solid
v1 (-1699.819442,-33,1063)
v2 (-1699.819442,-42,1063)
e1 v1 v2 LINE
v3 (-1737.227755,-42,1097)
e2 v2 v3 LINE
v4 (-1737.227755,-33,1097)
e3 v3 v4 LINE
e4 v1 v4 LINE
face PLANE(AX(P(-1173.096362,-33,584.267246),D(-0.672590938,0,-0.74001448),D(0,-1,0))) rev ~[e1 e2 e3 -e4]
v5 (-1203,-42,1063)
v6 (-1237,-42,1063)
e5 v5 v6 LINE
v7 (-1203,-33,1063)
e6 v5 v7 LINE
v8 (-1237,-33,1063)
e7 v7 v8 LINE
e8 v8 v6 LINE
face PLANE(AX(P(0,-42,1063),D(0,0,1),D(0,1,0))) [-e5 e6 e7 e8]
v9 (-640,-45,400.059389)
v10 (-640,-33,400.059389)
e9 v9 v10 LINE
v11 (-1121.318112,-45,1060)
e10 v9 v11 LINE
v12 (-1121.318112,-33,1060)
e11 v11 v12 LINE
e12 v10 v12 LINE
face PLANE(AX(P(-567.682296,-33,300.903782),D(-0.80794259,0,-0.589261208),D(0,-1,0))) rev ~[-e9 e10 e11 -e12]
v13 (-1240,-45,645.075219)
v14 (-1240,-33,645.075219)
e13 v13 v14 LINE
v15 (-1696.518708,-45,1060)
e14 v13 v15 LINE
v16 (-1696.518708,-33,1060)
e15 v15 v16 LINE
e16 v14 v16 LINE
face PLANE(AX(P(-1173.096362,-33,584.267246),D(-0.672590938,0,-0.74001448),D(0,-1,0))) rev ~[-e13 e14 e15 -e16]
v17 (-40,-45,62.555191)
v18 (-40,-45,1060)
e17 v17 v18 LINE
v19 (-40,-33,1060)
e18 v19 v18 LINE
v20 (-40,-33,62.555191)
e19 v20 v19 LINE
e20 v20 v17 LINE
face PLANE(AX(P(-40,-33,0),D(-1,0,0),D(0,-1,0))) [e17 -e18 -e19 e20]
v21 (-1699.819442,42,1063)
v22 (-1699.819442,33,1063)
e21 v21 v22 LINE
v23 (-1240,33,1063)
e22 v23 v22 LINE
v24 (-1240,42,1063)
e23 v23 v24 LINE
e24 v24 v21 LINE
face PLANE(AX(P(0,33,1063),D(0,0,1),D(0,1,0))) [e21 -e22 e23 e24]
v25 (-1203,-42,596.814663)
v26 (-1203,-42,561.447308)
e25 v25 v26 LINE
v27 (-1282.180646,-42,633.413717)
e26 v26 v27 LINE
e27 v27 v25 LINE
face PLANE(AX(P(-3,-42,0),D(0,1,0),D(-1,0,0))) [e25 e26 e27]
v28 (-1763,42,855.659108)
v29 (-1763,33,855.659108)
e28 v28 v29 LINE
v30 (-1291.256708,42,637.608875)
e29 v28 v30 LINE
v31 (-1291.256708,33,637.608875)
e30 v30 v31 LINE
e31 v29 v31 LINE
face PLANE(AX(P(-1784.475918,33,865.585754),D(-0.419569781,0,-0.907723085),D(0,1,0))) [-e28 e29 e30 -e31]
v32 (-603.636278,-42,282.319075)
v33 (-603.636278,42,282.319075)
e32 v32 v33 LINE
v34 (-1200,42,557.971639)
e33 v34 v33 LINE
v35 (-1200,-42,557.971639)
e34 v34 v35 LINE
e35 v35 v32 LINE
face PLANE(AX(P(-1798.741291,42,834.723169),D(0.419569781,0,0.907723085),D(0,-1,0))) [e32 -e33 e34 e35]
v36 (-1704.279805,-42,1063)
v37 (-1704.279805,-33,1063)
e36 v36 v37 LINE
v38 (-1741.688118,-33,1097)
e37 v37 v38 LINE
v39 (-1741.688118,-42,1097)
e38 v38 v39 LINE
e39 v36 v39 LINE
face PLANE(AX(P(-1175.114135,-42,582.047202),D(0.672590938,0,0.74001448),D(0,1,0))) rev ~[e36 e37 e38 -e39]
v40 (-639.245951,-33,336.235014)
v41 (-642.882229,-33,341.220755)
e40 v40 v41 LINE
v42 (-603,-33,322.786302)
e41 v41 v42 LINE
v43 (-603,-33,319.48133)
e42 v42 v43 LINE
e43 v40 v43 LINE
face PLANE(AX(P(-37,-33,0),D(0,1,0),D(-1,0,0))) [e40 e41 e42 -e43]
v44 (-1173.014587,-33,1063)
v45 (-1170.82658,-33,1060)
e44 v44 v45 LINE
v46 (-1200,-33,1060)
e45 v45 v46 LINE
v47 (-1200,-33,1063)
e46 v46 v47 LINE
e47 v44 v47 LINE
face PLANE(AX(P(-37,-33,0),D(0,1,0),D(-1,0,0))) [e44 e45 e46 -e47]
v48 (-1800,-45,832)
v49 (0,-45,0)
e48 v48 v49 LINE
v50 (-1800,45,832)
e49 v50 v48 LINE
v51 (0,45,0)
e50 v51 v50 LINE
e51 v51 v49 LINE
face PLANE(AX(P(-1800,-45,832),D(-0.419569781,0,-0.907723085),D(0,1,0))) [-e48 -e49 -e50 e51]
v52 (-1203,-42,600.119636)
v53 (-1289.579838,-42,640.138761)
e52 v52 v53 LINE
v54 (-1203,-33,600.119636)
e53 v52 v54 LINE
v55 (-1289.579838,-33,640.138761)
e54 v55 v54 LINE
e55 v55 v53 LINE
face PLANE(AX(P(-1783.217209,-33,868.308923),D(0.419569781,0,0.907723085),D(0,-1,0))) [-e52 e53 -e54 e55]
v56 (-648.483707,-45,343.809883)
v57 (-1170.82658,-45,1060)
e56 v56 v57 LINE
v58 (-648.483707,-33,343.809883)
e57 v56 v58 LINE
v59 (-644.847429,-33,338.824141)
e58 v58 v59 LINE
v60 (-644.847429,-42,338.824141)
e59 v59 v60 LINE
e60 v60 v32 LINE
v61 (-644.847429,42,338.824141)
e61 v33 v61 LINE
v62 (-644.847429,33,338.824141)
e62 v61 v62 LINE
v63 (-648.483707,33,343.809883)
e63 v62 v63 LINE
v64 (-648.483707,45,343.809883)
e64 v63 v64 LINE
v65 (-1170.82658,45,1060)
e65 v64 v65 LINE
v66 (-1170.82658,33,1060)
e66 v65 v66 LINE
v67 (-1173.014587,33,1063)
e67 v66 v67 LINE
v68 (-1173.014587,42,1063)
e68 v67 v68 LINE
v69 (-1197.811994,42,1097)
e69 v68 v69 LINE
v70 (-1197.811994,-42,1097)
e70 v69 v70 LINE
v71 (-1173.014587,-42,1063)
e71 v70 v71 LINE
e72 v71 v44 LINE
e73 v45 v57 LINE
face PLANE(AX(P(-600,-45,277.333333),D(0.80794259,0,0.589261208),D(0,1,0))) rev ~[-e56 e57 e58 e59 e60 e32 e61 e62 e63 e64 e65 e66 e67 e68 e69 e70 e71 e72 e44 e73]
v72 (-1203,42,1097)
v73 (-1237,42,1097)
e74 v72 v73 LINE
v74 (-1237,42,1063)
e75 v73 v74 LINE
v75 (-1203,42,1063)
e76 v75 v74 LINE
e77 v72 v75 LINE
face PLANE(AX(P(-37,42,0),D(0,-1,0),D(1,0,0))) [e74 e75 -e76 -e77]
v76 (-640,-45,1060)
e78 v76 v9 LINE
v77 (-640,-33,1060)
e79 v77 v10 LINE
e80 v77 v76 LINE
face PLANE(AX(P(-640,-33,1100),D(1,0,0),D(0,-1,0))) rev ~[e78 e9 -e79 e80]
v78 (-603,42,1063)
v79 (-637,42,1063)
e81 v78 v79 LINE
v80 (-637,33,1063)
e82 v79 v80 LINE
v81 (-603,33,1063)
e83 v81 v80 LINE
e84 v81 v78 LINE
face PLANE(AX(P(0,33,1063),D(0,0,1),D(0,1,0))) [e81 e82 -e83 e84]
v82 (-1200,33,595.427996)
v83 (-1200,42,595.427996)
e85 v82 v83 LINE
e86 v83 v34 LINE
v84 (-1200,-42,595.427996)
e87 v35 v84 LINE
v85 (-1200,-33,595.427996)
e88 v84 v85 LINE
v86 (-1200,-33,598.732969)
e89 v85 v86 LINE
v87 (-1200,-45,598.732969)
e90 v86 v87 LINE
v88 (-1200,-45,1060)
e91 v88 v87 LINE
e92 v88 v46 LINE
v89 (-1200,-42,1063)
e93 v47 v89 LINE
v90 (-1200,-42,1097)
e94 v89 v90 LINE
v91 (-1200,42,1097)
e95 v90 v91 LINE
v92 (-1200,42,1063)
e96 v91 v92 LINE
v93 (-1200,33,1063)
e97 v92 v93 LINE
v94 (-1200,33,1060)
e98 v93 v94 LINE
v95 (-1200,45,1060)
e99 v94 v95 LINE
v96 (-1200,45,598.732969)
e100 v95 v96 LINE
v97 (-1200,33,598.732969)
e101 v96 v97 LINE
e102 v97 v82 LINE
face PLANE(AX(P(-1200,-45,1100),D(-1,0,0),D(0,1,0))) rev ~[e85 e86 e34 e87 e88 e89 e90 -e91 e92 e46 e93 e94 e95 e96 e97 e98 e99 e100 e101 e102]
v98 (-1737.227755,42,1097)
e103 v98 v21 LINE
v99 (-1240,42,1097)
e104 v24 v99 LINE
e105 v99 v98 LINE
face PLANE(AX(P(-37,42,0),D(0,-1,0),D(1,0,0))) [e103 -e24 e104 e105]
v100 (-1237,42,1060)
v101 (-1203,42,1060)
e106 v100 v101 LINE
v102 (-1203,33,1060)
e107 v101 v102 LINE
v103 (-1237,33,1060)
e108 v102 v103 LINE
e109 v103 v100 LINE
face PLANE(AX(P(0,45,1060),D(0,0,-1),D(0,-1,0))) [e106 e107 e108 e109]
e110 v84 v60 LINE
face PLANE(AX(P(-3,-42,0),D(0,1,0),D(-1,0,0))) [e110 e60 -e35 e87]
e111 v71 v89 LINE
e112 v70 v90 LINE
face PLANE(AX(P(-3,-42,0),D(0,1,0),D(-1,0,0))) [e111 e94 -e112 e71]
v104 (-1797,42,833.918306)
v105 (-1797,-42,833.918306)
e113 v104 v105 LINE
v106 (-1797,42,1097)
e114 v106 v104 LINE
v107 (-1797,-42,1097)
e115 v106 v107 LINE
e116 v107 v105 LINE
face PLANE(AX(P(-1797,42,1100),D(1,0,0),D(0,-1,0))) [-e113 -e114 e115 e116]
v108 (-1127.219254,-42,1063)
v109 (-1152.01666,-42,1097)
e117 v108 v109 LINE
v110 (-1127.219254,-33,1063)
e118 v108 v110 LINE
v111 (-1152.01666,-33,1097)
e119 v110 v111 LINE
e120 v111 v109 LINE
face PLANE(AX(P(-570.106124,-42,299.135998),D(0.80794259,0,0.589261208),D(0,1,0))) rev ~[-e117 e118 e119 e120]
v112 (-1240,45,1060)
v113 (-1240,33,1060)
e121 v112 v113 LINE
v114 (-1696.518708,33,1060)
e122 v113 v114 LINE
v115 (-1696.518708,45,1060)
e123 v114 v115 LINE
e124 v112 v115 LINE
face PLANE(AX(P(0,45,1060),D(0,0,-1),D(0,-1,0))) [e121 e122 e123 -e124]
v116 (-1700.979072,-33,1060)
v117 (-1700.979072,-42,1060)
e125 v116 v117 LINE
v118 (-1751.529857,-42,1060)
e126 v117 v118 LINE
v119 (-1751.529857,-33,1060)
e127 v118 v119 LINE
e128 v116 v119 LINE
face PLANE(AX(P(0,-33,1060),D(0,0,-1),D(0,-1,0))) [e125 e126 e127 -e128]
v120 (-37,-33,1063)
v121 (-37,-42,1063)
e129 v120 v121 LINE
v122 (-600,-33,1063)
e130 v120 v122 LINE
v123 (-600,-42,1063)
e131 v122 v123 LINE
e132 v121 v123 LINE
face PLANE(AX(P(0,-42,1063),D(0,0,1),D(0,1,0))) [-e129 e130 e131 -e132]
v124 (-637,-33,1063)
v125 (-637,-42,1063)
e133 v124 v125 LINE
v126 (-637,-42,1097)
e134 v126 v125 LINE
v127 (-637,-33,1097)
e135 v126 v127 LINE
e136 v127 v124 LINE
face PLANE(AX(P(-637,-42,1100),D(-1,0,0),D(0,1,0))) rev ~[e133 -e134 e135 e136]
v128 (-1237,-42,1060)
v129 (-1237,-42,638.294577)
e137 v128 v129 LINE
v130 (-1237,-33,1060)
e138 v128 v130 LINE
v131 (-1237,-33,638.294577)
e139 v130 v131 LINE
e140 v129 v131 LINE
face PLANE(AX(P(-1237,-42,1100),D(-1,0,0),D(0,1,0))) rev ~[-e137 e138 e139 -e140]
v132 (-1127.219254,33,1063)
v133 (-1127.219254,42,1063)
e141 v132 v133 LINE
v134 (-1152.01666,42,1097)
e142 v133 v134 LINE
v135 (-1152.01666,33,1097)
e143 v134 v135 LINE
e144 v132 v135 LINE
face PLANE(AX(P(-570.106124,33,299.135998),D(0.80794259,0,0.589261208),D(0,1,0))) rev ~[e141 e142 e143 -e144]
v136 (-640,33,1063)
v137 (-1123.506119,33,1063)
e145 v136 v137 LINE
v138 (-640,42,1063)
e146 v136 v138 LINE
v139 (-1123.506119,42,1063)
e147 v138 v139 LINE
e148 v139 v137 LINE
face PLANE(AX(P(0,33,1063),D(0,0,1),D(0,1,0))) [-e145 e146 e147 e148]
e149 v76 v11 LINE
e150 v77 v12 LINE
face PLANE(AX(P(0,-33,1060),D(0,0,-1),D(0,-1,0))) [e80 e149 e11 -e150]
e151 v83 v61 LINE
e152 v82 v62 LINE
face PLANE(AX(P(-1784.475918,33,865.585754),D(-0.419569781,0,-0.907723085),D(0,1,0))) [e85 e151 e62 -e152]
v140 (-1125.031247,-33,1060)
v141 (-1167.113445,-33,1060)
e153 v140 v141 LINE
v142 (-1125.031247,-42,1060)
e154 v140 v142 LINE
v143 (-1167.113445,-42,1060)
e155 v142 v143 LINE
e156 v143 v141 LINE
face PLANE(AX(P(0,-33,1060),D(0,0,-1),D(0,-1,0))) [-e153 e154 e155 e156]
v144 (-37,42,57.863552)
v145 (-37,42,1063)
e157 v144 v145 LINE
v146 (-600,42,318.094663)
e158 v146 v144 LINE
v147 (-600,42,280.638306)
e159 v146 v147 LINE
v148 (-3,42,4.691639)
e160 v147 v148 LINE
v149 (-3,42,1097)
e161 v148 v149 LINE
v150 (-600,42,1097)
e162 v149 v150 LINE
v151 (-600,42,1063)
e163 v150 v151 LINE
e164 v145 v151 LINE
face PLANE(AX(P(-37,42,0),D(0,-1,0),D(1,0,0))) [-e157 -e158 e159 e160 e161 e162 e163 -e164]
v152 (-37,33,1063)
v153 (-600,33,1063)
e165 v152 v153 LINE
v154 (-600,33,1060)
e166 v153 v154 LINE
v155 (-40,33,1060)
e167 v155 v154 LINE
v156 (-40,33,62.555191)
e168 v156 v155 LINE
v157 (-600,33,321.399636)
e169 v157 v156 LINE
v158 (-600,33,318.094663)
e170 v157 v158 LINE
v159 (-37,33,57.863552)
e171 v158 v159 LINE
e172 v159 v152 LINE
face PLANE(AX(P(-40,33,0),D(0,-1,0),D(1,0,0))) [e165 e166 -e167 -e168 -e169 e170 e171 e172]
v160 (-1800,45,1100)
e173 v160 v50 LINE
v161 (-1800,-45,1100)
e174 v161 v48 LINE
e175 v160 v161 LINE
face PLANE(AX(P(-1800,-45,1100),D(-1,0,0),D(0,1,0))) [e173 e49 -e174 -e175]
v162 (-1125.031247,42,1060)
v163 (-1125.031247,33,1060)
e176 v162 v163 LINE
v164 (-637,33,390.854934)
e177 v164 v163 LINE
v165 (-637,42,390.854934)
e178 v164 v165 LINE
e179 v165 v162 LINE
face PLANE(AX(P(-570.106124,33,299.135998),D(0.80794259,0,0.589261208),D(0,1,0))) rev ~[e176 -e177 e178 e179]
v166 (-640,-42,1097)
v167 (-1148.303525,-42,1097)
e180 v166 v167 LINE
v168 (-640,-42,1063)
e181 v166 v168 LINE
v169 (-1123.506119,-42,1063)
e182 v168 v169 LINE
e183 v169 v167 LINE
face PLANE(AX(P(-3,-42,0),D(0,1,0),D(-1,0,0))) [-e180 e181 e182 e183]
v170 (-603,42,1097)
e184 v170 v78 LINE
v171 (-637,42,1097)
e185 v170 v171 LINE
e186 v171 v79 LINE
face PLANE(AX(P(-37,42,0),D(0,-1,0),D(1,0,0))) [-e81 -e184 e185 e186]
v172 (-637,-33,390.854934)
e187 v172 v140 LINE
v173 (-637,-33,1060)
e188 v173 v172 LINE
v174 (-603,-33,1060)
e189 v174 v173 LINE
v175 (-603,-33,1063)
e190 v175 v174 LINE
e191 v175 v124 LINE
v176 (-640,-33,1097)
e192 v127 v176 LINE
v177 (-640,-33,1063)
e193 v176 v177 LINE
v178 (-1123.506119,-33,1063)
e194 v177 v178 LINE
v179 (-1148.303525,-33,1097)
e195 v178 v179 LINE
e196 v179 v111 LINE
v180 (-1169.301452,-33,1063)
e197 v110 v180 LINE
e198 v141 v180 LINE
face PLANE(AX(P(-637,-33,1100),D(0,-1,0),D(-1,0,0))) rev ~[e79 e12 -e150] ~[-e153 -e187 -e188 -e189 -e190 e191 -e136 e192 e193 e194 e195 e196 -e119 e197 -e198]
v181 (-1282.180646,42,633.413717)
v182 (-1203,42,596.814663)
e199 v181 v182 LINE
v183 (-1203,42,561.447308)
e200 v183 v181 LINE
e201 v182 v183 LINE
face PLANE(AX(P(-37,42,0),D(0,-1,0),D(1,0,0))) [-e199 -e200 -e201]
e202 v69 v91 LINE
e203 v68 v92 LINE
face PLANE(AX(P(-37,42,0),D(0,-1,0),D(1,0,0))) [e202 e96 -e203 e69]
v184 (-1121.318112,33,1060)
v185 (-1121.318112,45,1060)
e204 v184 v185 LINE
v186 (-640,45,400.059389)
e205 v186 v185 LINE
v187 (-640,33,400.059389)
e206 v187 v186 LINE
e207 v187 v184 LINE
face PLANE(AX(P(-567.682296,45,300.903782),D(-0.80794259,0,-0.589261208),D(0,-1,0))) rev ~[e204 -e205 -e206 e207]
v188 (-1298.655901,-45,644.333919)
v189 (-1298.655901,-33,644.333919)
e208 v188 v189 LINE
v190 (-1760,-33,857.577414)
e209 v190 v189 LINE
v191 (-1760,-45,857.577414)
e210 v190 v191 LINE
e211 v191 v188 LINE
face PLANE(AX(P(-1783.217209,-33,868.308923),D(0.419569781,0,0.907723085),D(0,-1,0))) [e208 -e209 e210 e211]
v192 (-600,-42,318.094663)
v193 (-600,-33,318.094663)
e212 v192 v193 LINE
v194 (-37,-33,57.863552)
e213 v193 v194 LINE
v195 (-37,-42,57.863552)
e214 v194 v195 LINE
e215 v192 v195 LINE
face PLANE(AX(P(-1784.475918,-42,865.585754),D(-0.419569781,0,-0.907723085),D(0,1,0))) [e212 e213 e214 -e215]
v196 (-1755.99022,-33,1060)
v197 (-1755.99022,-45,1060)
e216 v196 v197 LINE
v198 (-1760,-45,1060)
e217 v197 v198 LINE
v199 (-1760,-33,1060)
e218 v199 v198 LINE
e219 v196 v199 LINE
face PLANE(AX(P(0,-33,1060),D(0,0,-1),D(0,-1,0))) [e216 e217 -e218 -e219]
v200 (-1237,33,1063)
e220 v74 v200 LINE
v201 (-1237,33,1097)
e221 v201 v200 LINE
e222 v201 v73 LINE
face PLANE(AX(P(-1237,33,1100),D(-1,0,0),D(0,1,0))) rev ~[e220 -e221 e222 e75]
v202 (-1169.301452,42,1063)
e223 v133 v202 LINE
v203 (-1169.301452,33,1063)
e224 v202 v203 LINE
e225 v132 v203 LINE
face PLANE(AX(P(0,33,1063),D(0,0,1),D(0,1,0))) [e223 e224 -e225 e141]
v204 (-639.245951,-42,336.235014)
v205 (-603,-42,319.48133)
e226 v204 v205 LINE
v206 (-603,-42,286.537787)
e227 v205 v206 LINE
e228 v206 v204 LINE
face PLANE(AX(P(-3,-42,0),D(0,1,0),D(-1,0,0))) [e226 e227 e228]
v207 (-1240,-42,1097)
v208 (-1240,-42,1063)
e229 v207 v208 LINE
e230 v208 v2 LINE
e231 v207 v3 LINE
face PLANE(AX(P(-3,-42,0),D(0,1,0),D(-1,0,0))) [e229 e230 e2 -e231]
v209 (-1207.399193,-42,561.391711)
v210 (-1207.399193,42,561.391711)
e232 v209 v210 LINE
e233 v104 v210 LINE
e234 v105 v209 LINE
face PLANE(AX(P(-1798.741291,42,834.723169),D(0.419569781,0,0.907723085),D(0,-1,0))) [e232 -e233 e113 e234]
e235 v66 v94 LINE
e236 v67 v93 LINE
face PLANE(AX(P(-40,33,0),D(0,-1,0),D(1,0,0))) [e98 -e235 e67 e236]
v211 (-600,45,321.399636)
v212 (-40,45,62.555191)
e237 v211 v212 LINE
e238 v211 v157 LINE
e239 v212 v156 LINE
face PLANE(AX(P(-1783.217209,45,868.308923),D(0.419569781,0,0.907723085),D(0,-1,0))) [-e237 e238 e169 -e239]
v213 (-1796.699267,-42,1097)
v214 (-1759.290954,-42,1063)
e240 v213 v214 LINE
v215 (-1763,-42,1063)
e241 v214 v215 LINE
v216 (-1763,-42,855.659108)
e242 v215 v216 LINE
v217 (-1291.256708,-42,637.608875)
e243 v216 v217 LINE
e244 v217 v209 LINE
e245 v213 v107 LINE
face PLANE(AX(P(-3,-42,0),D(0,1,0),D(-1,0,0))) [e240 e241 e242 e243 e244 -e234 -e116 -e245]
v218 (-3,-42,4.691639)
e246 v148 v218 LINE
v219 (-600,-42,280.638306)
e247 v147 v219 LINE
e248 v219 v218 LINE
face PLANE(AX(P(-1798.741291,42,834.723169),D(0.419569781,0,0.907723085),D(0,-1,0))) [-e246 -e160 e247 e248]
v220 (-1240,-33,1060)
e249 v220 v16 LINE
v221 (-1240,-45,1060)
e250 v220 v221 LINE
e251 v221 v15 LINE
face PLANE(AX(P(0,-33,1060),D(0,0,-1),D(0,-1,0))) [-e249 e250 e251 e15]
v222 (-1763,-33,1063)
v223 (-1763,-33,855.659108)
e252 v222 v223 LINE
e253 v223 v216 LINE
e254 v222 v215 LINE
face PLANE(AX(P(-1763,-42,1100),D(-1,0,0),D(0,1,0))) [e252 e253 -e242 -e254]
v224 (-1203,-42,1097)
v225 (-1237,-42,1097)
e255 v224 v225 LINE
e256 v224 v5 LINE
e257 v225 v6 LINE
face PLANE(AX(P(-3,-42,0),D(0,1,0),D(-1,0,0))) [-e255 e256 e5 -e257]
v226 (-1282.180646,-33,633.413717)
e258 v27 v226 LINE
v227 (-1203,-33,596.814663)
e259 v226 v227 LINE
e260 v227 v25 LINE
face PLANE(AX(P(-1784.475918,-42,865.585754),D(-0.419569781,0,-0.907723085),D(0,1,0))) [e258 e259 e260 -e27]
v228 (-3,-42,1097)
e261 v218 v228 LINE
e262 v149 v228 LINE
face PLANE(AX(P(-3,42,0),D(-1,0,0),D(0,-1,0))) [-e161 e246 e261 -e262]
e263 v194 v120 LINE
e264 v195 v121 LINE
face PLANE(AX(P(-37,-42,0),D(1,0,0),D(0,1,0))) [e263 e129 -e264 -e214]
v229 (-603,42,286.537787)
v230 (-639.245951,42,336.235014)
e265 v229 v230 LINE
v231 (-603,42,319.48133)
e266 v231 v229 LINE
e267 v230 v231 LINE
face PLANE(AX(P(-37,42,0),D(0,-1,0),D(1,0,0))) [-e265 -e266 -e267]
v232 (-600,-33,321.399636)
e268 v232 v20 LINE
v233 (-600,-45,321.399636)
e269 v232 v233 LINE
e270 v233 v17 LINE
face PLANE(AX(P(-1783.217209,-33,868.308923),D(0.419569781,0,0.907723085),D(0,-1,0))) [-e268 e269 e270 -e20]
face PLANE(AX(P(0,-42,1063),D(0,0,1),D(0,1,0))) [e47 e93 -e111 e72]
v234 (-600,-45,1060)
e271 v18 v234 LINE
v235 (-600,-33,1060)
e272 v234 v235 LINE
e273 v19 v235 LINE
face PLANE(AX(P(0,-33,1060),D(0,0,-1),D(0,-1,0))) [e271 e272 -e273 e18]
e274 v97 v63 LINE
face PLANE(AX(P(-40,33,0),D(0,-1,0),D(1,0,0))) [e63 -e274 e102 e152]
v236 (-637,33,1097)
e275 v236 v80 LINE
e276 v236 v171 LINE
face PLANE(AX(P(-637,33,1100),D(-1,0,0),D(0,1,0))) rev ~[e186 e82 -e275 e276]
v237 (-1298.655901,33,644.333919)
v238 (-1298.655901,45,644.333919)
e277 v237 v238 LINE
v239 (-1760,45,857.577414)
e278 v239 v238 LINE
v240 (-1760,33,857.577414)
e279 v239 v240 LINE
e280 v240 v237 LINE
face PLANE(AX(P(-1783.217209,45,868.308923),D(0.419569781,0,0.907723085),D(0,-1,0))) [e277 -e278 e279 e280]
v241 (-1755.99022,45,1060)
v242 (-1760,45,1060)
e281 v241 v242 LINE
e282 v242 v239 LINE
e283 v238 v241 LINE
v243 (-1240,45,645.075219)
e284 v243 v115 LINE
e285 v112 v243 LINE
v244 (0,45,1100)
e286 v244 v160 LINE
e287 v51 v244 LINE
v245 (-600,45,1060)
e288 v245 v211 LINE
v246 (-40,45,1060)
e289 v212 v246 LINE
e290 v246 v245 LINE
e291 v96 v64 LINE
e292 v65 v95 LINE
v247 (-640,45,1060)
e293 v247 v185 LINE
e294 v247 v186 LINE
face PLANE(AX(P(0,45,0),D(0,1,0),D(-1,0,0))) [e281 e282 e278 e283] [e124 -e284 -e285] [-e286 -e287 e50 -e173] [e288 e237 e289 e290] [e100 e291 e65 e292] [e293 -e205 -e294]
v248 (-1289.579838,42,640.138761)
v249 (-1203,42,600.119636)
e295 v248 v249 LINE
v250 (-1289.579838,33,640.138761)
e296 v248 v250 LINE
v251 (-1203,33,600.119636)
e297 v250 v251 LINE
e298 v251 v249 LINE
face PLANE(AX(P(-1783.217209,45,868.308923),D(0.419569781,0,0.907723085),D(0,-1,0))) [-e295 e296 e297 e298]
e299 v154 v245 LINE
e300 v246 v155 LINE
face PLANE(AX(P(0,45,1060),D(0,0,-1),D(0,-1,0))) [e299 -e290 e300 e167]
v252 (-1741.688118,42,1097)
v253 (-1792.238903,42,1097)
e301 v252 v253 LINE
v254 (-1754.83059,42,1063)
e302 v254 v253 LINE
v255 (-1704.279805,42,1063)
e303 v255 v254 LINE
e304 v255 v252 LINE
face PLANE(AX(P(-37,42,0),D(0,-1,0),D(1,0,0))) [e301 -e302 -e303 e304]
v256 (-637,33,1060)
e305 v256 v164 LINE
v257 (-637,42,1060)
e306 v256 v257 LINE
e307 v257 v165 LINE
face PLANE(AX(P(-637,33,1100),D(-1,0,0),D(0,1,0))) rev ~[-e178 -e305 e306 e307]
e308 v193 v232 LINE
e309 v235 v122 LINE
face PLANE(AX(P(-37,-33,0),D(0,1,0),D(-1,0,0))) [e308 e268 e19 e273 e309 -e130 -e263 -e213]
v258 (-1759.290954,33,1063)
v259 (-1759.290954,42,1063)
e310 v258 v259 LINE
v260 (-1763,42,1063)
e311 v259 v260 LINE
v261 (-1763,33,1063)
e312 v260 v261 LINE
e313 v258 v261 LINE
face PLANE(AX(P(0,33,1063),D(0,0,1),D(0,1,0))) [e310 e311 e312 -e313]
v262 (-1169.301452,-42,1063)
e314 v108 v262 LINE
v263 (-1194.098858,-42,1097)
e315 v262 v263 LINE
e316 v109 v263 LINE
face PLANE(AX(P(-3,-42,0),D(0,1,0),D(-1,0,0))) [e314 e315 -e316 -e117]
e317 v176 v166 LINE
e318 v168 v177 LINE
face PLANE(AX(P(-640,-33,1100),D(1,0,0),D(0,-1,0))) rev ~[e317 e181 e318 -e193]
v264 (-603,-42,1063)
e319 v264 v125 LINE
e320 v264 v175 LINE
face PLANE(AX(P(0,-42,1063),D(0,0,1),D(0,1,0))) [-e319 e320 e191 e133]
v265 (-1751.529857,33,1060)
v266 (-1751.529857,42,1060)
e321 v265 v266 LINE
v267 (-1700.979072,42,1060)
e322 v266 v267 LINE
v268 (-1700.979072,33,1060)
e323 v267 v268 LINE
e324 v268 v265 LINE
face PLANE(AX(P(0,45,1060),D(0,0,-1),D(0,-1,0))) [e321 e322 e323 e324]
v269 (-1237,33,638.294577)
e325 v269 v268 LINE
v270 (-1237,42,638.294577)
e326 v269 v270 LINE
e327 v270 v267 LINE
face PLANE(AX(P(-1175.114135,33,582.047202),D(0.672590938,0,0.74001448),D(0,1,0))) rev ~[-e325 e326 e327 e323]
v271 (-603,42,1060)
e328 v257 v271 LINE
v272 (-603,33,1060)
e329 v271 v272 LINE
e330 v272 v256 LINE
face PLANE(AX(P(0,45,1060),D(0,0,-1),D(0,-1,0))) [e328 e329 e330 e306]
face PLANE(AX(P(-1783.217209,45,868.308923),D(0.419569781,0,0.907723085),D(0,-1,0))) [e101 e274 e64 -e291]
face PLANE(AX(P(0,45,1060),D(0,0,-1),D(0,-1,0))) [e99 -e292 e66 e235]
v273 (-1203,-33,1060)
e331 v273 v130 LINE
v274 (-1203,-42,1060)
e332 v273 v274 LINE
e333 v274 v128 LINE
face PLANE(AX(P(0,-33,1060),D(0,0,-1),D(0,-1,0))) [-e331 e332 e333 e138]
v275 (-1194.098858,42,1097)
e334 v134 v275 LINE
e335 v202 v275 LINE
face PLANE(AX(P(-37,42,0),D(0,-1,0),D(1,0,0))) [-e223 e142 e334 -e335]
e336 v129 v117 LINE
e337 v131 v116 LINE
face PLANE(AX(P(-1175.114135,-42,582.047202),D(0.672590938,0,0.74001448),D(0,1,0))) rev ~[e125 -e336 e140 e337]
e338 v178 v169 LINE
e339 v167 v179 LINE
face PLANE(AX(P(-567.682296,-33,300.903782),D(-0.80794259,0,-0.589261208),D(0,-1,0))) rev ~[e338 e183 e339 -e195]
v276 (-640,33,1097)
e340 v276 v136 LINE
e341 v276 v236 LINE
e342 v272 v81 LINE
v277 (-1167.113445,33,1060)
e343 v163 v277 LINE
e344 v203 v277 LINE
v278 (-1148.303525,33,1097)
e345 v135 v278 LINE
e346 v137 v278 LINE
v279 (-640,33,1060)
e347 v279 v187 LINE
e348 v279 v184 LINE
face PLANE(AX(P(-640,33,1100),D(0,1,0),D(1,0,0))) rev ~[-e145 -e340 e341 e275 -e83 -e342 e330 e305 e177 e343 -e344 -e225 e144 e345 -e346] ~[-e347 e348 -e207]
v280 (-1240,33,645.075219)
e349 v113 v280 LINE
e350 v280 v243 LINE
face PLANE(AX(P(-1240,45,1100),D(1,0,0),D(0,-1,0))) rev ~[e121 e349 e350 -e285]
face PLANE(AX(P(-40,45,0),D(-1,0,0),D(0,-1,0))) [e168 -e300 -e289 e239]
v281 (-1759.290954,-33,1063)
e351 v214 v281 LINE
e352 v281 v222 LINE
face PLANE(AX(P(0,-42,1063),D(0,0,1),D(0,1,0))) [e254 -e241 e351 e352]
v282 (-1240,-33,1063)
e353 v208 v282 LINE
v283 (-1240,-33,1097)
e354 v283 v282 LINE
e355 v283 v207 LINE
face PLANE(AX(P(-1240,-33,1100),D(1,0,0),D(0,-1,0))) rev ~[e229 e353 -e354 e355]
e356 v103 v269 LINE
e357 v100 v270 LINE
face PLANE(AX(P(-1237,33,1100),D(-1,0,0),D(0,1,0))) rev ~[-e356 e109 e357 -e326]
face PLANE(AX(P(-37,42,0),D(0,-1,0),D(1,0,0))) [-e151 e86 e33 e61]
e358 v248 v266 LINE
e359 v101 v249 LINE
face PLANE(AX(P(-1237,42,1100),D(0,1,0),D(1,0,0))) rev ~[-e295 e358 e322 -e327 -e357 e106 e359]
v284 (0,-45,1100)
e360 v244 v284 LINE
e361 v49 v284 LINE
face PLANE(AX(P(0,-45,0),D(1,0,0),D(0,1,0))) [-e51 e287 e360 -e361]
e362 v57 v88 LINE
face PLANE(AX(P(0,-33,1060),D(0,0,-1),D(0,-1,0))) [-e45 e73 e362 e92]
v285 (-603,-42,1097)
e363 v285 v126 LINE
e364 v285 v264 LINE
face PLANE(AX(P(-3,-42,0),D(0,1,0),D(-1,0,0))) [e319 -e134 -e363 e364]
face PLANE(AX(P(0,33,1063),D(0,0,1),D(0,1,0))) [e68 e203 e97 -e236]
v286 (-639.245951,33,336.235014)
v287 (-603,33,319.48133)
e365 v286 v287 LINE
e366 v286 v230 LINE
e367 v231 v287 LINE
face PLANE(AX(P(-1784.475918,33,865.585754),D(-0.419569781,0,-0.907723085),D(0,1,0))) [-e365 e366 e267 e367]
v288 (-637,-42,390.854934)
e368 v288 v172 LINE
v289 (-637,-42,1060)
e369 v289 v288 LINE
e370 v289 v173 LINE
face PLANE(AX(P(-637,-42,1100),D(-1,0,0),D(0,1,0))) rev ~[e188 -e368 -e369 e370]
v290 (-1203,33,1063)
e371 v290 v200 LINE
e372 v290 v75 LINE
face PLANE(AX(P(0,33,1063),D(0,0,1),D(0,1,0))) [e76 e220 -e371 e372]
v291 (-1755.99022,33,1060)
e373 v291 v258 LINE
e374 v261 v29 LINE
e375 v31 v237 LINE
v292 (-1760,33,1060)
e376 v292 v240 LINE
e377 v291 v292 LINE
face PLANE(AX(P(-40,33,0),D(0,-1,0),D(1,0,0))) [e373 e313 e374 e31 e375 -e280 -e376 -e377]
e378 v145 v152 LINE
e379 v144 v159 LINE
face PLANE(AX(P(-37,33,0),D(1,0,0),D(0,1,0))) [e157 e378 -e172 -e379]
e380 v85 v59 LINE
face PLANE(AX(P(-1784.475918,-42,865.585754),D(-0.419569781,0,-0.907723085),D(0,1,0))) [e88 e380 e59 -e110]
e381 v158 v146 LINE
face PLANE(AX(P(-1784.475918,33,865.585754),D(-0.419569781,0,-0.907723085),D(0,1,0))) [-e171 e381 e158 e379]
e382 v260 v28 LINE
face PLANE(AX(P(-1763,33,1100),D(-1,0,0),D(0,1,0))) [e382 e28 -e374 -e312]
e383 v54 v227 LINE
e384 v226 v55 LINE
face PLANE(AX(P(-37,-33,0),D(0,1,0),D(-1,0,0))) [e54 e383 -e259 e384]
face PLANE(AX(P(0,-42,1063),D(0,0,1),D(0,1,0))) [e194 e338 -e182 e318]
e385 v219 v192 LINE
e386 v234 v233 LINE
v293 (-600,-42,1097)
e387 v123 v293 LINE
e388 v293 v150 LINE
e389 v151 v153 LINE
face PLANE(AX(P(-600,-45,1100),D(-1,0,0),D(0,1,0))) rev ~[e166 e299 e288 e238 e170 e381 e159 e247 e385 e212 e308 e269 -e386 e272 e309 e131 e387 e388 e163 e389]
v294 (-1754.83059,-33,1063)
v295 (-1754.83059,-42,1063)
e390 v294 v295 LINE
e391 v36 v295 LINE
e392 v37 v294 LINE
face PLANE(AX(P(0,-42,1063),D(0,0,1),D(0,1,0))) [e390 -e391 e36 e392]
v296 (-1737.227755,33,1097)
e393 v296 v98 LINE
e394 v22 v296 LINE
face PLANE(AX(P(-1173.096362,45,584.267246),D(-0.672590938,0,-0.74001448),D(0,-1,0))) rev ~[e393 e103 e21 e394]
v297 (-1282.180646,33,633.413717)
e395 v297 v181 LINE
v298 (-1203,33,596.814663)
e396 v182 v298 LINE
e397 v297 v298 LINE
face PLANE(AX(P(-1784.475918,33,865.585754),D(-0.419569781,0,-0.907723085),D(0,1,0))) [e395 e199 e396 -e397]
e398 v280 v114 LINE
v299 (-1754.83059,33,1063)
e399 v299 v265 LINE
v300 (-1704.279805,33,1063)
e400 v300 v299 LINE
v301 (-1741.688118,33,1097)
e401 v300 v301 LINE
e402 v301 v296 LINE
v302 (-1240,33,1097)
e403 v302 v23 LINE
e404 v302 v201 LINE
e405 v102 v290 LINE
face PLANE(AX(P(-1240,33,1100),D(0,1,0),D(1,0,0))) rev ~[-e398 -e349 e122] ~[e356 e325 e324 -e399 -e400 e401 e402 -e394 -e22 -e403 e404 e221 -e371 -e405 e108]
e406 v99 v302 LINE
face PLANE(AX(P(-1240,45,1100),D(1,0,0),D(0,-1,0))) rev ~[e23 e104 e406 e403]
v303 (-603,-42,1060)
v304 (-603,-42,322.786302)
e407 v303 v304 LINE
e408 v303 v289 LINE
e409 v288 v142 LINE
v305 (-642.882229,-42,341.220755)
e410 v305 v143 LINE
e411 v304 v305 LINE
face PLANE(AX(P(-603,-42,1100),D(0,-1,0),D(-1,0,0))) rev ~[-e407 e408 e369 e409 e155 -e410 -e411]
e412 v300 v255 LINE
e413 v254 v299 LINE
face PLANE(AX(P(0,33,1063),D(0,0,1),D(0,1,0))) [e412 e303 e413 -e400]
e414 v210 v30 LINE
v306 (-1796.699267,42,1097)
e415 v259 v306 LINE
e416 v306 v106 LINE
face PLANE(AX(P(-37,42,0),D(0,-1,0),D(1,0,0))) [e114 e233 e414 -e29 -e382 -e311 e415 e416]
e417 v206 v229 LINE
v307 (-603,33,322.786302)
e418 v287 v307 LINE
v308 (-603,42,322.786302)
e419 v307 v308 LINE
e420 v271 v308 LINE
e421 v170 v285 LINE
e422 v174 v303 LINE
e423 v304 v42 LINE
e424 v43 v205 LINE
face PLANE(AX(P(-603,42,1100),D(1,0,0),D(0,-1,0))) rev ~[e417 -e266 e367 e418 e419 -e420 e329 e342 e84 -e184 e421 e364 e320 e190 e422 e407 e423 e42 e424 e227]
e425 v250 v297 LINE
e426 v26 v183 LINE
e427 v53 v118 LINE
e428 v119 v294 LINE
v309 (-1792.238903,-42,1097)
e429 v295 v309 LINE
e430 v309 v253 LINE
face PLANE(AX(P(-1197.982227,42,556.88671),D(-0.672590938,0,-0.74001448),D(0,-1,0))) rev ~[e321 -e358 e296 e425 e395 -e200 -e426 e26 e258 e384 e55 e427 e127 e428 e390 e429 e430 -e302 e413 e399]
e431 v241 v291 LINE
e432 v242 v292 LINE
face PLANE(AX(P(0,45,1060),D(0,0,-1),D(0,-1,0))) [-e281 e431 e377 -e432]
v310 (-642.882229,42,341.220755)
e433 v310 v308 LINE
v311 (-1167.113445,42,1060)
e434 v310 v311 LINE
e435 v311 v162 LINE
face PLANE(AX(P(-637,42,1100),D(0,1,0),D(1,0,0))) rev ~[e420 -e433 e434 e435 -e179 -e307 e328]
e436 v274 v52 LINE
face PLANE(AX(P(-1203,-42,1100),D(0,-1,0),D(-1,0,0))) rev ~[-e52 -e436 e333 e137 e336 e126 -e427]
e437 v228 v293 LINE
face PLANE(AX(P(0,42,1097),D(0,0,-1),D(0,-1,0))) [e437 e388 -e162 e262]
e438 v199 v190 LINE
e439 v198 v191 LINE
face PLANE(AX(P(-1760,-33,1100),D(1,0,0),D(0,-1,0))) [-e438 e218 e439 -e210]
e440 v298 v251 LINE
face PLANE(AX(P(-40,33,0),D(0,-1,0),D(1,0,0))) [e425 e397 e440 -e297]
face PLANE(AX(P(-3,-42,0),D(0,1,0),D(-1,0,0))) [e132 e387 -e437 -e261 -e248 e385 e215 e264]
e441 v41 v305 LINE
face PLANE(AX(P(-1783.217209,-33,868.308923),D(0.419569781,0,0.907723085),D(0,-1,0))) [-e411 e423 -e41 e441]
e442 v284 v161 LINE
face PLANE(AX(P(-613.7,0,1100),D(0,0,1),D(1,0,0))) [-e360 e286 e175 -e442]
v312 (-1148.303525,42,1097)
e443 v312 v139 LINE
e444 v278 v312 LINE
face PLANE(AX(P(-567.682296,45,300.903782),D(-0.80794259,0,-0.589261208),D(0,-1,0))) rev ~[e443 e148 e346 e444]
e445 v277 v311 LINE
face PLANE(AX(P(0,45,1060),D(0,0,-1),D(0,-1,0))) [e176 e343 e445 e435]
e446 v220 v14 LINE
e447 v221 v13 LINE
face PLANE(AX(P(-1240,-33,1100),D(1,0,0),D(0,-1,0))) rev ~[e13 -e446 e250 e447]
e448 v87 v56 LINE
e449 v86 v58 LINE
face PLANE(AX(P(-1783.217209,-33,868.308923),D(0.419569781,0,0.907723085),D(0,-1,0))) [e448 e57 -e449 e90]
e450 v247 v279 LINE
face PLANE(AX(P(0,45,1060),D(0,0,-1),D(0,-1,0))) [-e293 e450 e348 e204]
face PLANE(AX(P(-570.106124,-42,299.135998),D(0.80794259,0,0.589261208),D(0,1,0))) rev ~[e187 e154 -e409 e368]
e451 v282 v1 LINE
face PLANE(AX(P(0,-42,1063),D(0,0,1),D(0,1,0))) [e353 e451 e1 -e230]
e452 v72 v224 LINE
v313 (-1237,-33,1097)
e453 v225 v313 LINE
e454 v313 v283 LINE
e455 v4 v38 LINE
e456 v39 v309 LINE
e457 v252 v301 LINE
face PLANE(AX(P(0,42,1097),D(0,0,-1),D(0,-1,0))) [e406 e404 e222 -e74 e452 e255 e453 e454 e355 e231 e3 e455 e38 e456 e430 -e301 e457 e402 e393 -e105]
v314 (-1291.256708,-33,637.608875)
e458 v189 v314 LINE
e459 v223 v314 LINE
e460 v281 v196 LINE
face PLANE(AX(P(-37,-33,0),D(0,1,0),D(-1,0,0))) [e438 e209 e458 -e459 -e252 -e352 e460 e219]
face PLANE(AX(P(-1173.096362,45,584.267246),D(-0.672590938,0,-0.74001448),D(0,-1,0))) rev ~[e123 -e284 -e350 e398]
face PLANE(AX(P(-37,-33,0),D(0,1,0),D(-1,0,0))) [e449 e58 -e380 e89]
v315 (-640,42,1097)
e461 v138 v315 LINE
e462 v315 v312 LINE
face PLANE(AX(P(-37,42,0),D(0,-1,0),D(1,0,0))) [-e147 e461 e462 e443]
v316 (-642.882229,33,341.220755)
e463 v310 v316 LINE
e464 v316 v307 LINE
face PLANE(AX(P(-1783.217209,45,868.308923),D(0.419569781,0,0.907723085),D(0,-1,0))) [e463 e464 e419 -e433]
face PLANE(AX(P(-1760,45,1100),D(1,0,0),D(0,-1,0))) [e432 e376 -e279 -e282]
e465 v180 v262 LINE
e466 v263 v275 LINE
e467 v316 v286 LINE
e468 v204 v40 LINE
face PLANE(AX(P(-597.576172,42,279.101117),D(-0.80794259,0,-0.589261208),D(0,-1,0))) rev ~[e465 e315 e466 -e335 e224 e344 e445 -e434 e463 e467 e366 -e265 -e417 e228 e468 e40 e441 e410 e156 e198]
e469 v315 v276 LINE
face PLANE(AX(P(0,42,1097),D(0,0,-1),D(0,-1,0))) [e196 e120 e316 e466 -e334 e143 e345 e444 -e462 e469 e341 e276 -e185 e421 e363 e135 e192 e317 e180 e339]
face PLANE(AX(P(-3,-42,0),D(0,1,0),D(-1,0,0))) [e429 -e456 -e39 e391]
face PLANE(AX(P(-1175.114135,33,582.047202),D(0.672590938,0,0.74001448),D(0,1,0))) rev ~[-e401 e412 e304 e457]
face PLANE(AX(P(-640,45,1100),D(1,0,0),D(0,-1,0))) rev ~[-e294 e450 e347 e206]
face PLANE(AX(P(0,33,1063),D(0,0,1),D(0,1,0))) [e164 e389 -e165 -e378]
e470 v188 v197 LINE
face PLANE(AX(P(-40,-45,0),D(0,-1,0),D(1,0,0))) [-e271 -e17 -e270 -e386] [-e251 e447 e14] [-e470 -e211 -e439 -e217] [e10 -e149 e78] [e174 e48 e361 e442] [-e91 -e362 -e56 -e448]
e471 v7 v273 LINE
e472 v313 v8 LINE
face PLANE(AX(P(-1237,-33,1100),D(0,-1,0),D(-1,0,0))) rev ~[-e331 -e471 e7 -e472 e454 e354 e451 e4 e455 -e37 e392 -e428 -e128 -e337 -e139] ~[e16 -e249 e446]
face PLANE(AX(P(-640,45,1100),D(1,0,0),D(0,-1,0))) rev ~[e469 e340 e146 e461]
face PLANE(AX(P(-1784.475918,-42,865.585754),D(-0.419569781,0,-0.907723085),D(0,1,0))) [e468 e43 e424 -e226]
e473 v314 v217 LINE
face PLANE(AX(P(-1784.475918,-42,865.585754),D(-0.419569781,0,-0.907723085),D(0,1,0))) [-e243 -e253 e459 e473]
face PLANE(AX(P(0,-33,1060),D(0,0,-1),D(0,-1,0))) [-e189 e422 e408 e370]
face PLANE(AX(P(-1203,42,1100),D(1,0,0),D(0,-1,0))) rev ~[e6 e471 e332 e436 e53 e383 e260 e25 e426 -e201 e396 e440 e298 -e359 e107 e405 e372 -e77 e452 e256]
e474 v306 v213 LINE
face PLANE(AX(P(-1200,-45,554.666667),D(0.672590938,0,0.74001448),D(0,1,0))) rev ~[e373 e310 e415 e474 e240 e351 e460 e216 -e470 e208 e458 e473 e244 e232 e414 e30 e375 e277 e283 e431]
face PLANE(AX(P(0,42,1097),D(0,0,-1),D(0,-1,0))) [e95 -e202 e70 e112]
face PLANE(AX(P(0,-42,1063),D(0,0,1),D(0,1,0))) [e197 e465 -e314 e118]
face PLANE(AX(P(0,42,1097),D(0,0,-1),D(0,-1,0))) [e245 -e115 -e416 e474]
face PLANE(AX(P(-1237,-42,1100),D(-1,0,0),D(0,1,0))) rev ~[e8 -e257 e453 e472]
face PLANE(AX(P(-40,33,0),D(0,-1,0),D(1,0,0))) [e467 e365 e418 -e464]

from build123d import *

# Parameters (mm, degrees)
F6_W     = 90
F6_H     = 203.898897171
F7_DEPTH = 1800.001


with BuildPart() as f2:
    # F2: sweep along a path in F0
    with BuildLine(Plane.XZ) as f2_path:
        Line((0, 0), (0, 1100))
        Line((0, 1100), (-1800, 1100))
        Line((-1800, 1100), (-1800, 832))
        Line((-1800, 832), (0, 0))
    # F1 (on Top) → F2 (sweep)
    with BuildSketch(Plane.XY):
        Polygon((0, -45), (0, 0), (0, 45), (-40, 45), (-40, 33), (-37, 33), (-37, 42), (-3, 42), (-3, 0), (-3, -42), (-37, -42), (-37, -33), (-40, -33), (-40, -45), align=None)
    sweep(path=f2_path.line, transition=Transition.RIGHT)

    # F5: sweep along a path in F3
    with BuildLine(Plane.XZ) as f5_path:
        Line((-600, 1100), (-600, 277.3333333333))
        Line((-600, 277.3333333333), (-1200, 1100))
        Line((-1200, 1100), (-1200, 554.6666666667))
        Line((-1200, 554.6666666667), (-1800, 1100))
    # F4 (on face) → F5 (sweep)
    with BuildSketch(Plane.XY.offset(1100)):
        Polygon((-600, -45), (-600, 0), (-600, 45), (-640, 45), (-640, 33), (-637, 33), (-637, 42), (-603, 42), (-603, 0), (-603, -42), (-637, -42), (-637, -33), (-640, -33), (-640, -45), align=None)
    sweep(path=f5_path.line, transition=Transition.RIGHT)

    # F6 (on face) → F7 (cut, through all)
    with BuildSketch(Plane.YZ):
        with Locations((0, 1201.9494485855)):
            Rectangle(F6_W, F6_H)
    extrude(amount=-F7_DEPTH, mode=Mode.SUBTRACT)


solid = f2.part
